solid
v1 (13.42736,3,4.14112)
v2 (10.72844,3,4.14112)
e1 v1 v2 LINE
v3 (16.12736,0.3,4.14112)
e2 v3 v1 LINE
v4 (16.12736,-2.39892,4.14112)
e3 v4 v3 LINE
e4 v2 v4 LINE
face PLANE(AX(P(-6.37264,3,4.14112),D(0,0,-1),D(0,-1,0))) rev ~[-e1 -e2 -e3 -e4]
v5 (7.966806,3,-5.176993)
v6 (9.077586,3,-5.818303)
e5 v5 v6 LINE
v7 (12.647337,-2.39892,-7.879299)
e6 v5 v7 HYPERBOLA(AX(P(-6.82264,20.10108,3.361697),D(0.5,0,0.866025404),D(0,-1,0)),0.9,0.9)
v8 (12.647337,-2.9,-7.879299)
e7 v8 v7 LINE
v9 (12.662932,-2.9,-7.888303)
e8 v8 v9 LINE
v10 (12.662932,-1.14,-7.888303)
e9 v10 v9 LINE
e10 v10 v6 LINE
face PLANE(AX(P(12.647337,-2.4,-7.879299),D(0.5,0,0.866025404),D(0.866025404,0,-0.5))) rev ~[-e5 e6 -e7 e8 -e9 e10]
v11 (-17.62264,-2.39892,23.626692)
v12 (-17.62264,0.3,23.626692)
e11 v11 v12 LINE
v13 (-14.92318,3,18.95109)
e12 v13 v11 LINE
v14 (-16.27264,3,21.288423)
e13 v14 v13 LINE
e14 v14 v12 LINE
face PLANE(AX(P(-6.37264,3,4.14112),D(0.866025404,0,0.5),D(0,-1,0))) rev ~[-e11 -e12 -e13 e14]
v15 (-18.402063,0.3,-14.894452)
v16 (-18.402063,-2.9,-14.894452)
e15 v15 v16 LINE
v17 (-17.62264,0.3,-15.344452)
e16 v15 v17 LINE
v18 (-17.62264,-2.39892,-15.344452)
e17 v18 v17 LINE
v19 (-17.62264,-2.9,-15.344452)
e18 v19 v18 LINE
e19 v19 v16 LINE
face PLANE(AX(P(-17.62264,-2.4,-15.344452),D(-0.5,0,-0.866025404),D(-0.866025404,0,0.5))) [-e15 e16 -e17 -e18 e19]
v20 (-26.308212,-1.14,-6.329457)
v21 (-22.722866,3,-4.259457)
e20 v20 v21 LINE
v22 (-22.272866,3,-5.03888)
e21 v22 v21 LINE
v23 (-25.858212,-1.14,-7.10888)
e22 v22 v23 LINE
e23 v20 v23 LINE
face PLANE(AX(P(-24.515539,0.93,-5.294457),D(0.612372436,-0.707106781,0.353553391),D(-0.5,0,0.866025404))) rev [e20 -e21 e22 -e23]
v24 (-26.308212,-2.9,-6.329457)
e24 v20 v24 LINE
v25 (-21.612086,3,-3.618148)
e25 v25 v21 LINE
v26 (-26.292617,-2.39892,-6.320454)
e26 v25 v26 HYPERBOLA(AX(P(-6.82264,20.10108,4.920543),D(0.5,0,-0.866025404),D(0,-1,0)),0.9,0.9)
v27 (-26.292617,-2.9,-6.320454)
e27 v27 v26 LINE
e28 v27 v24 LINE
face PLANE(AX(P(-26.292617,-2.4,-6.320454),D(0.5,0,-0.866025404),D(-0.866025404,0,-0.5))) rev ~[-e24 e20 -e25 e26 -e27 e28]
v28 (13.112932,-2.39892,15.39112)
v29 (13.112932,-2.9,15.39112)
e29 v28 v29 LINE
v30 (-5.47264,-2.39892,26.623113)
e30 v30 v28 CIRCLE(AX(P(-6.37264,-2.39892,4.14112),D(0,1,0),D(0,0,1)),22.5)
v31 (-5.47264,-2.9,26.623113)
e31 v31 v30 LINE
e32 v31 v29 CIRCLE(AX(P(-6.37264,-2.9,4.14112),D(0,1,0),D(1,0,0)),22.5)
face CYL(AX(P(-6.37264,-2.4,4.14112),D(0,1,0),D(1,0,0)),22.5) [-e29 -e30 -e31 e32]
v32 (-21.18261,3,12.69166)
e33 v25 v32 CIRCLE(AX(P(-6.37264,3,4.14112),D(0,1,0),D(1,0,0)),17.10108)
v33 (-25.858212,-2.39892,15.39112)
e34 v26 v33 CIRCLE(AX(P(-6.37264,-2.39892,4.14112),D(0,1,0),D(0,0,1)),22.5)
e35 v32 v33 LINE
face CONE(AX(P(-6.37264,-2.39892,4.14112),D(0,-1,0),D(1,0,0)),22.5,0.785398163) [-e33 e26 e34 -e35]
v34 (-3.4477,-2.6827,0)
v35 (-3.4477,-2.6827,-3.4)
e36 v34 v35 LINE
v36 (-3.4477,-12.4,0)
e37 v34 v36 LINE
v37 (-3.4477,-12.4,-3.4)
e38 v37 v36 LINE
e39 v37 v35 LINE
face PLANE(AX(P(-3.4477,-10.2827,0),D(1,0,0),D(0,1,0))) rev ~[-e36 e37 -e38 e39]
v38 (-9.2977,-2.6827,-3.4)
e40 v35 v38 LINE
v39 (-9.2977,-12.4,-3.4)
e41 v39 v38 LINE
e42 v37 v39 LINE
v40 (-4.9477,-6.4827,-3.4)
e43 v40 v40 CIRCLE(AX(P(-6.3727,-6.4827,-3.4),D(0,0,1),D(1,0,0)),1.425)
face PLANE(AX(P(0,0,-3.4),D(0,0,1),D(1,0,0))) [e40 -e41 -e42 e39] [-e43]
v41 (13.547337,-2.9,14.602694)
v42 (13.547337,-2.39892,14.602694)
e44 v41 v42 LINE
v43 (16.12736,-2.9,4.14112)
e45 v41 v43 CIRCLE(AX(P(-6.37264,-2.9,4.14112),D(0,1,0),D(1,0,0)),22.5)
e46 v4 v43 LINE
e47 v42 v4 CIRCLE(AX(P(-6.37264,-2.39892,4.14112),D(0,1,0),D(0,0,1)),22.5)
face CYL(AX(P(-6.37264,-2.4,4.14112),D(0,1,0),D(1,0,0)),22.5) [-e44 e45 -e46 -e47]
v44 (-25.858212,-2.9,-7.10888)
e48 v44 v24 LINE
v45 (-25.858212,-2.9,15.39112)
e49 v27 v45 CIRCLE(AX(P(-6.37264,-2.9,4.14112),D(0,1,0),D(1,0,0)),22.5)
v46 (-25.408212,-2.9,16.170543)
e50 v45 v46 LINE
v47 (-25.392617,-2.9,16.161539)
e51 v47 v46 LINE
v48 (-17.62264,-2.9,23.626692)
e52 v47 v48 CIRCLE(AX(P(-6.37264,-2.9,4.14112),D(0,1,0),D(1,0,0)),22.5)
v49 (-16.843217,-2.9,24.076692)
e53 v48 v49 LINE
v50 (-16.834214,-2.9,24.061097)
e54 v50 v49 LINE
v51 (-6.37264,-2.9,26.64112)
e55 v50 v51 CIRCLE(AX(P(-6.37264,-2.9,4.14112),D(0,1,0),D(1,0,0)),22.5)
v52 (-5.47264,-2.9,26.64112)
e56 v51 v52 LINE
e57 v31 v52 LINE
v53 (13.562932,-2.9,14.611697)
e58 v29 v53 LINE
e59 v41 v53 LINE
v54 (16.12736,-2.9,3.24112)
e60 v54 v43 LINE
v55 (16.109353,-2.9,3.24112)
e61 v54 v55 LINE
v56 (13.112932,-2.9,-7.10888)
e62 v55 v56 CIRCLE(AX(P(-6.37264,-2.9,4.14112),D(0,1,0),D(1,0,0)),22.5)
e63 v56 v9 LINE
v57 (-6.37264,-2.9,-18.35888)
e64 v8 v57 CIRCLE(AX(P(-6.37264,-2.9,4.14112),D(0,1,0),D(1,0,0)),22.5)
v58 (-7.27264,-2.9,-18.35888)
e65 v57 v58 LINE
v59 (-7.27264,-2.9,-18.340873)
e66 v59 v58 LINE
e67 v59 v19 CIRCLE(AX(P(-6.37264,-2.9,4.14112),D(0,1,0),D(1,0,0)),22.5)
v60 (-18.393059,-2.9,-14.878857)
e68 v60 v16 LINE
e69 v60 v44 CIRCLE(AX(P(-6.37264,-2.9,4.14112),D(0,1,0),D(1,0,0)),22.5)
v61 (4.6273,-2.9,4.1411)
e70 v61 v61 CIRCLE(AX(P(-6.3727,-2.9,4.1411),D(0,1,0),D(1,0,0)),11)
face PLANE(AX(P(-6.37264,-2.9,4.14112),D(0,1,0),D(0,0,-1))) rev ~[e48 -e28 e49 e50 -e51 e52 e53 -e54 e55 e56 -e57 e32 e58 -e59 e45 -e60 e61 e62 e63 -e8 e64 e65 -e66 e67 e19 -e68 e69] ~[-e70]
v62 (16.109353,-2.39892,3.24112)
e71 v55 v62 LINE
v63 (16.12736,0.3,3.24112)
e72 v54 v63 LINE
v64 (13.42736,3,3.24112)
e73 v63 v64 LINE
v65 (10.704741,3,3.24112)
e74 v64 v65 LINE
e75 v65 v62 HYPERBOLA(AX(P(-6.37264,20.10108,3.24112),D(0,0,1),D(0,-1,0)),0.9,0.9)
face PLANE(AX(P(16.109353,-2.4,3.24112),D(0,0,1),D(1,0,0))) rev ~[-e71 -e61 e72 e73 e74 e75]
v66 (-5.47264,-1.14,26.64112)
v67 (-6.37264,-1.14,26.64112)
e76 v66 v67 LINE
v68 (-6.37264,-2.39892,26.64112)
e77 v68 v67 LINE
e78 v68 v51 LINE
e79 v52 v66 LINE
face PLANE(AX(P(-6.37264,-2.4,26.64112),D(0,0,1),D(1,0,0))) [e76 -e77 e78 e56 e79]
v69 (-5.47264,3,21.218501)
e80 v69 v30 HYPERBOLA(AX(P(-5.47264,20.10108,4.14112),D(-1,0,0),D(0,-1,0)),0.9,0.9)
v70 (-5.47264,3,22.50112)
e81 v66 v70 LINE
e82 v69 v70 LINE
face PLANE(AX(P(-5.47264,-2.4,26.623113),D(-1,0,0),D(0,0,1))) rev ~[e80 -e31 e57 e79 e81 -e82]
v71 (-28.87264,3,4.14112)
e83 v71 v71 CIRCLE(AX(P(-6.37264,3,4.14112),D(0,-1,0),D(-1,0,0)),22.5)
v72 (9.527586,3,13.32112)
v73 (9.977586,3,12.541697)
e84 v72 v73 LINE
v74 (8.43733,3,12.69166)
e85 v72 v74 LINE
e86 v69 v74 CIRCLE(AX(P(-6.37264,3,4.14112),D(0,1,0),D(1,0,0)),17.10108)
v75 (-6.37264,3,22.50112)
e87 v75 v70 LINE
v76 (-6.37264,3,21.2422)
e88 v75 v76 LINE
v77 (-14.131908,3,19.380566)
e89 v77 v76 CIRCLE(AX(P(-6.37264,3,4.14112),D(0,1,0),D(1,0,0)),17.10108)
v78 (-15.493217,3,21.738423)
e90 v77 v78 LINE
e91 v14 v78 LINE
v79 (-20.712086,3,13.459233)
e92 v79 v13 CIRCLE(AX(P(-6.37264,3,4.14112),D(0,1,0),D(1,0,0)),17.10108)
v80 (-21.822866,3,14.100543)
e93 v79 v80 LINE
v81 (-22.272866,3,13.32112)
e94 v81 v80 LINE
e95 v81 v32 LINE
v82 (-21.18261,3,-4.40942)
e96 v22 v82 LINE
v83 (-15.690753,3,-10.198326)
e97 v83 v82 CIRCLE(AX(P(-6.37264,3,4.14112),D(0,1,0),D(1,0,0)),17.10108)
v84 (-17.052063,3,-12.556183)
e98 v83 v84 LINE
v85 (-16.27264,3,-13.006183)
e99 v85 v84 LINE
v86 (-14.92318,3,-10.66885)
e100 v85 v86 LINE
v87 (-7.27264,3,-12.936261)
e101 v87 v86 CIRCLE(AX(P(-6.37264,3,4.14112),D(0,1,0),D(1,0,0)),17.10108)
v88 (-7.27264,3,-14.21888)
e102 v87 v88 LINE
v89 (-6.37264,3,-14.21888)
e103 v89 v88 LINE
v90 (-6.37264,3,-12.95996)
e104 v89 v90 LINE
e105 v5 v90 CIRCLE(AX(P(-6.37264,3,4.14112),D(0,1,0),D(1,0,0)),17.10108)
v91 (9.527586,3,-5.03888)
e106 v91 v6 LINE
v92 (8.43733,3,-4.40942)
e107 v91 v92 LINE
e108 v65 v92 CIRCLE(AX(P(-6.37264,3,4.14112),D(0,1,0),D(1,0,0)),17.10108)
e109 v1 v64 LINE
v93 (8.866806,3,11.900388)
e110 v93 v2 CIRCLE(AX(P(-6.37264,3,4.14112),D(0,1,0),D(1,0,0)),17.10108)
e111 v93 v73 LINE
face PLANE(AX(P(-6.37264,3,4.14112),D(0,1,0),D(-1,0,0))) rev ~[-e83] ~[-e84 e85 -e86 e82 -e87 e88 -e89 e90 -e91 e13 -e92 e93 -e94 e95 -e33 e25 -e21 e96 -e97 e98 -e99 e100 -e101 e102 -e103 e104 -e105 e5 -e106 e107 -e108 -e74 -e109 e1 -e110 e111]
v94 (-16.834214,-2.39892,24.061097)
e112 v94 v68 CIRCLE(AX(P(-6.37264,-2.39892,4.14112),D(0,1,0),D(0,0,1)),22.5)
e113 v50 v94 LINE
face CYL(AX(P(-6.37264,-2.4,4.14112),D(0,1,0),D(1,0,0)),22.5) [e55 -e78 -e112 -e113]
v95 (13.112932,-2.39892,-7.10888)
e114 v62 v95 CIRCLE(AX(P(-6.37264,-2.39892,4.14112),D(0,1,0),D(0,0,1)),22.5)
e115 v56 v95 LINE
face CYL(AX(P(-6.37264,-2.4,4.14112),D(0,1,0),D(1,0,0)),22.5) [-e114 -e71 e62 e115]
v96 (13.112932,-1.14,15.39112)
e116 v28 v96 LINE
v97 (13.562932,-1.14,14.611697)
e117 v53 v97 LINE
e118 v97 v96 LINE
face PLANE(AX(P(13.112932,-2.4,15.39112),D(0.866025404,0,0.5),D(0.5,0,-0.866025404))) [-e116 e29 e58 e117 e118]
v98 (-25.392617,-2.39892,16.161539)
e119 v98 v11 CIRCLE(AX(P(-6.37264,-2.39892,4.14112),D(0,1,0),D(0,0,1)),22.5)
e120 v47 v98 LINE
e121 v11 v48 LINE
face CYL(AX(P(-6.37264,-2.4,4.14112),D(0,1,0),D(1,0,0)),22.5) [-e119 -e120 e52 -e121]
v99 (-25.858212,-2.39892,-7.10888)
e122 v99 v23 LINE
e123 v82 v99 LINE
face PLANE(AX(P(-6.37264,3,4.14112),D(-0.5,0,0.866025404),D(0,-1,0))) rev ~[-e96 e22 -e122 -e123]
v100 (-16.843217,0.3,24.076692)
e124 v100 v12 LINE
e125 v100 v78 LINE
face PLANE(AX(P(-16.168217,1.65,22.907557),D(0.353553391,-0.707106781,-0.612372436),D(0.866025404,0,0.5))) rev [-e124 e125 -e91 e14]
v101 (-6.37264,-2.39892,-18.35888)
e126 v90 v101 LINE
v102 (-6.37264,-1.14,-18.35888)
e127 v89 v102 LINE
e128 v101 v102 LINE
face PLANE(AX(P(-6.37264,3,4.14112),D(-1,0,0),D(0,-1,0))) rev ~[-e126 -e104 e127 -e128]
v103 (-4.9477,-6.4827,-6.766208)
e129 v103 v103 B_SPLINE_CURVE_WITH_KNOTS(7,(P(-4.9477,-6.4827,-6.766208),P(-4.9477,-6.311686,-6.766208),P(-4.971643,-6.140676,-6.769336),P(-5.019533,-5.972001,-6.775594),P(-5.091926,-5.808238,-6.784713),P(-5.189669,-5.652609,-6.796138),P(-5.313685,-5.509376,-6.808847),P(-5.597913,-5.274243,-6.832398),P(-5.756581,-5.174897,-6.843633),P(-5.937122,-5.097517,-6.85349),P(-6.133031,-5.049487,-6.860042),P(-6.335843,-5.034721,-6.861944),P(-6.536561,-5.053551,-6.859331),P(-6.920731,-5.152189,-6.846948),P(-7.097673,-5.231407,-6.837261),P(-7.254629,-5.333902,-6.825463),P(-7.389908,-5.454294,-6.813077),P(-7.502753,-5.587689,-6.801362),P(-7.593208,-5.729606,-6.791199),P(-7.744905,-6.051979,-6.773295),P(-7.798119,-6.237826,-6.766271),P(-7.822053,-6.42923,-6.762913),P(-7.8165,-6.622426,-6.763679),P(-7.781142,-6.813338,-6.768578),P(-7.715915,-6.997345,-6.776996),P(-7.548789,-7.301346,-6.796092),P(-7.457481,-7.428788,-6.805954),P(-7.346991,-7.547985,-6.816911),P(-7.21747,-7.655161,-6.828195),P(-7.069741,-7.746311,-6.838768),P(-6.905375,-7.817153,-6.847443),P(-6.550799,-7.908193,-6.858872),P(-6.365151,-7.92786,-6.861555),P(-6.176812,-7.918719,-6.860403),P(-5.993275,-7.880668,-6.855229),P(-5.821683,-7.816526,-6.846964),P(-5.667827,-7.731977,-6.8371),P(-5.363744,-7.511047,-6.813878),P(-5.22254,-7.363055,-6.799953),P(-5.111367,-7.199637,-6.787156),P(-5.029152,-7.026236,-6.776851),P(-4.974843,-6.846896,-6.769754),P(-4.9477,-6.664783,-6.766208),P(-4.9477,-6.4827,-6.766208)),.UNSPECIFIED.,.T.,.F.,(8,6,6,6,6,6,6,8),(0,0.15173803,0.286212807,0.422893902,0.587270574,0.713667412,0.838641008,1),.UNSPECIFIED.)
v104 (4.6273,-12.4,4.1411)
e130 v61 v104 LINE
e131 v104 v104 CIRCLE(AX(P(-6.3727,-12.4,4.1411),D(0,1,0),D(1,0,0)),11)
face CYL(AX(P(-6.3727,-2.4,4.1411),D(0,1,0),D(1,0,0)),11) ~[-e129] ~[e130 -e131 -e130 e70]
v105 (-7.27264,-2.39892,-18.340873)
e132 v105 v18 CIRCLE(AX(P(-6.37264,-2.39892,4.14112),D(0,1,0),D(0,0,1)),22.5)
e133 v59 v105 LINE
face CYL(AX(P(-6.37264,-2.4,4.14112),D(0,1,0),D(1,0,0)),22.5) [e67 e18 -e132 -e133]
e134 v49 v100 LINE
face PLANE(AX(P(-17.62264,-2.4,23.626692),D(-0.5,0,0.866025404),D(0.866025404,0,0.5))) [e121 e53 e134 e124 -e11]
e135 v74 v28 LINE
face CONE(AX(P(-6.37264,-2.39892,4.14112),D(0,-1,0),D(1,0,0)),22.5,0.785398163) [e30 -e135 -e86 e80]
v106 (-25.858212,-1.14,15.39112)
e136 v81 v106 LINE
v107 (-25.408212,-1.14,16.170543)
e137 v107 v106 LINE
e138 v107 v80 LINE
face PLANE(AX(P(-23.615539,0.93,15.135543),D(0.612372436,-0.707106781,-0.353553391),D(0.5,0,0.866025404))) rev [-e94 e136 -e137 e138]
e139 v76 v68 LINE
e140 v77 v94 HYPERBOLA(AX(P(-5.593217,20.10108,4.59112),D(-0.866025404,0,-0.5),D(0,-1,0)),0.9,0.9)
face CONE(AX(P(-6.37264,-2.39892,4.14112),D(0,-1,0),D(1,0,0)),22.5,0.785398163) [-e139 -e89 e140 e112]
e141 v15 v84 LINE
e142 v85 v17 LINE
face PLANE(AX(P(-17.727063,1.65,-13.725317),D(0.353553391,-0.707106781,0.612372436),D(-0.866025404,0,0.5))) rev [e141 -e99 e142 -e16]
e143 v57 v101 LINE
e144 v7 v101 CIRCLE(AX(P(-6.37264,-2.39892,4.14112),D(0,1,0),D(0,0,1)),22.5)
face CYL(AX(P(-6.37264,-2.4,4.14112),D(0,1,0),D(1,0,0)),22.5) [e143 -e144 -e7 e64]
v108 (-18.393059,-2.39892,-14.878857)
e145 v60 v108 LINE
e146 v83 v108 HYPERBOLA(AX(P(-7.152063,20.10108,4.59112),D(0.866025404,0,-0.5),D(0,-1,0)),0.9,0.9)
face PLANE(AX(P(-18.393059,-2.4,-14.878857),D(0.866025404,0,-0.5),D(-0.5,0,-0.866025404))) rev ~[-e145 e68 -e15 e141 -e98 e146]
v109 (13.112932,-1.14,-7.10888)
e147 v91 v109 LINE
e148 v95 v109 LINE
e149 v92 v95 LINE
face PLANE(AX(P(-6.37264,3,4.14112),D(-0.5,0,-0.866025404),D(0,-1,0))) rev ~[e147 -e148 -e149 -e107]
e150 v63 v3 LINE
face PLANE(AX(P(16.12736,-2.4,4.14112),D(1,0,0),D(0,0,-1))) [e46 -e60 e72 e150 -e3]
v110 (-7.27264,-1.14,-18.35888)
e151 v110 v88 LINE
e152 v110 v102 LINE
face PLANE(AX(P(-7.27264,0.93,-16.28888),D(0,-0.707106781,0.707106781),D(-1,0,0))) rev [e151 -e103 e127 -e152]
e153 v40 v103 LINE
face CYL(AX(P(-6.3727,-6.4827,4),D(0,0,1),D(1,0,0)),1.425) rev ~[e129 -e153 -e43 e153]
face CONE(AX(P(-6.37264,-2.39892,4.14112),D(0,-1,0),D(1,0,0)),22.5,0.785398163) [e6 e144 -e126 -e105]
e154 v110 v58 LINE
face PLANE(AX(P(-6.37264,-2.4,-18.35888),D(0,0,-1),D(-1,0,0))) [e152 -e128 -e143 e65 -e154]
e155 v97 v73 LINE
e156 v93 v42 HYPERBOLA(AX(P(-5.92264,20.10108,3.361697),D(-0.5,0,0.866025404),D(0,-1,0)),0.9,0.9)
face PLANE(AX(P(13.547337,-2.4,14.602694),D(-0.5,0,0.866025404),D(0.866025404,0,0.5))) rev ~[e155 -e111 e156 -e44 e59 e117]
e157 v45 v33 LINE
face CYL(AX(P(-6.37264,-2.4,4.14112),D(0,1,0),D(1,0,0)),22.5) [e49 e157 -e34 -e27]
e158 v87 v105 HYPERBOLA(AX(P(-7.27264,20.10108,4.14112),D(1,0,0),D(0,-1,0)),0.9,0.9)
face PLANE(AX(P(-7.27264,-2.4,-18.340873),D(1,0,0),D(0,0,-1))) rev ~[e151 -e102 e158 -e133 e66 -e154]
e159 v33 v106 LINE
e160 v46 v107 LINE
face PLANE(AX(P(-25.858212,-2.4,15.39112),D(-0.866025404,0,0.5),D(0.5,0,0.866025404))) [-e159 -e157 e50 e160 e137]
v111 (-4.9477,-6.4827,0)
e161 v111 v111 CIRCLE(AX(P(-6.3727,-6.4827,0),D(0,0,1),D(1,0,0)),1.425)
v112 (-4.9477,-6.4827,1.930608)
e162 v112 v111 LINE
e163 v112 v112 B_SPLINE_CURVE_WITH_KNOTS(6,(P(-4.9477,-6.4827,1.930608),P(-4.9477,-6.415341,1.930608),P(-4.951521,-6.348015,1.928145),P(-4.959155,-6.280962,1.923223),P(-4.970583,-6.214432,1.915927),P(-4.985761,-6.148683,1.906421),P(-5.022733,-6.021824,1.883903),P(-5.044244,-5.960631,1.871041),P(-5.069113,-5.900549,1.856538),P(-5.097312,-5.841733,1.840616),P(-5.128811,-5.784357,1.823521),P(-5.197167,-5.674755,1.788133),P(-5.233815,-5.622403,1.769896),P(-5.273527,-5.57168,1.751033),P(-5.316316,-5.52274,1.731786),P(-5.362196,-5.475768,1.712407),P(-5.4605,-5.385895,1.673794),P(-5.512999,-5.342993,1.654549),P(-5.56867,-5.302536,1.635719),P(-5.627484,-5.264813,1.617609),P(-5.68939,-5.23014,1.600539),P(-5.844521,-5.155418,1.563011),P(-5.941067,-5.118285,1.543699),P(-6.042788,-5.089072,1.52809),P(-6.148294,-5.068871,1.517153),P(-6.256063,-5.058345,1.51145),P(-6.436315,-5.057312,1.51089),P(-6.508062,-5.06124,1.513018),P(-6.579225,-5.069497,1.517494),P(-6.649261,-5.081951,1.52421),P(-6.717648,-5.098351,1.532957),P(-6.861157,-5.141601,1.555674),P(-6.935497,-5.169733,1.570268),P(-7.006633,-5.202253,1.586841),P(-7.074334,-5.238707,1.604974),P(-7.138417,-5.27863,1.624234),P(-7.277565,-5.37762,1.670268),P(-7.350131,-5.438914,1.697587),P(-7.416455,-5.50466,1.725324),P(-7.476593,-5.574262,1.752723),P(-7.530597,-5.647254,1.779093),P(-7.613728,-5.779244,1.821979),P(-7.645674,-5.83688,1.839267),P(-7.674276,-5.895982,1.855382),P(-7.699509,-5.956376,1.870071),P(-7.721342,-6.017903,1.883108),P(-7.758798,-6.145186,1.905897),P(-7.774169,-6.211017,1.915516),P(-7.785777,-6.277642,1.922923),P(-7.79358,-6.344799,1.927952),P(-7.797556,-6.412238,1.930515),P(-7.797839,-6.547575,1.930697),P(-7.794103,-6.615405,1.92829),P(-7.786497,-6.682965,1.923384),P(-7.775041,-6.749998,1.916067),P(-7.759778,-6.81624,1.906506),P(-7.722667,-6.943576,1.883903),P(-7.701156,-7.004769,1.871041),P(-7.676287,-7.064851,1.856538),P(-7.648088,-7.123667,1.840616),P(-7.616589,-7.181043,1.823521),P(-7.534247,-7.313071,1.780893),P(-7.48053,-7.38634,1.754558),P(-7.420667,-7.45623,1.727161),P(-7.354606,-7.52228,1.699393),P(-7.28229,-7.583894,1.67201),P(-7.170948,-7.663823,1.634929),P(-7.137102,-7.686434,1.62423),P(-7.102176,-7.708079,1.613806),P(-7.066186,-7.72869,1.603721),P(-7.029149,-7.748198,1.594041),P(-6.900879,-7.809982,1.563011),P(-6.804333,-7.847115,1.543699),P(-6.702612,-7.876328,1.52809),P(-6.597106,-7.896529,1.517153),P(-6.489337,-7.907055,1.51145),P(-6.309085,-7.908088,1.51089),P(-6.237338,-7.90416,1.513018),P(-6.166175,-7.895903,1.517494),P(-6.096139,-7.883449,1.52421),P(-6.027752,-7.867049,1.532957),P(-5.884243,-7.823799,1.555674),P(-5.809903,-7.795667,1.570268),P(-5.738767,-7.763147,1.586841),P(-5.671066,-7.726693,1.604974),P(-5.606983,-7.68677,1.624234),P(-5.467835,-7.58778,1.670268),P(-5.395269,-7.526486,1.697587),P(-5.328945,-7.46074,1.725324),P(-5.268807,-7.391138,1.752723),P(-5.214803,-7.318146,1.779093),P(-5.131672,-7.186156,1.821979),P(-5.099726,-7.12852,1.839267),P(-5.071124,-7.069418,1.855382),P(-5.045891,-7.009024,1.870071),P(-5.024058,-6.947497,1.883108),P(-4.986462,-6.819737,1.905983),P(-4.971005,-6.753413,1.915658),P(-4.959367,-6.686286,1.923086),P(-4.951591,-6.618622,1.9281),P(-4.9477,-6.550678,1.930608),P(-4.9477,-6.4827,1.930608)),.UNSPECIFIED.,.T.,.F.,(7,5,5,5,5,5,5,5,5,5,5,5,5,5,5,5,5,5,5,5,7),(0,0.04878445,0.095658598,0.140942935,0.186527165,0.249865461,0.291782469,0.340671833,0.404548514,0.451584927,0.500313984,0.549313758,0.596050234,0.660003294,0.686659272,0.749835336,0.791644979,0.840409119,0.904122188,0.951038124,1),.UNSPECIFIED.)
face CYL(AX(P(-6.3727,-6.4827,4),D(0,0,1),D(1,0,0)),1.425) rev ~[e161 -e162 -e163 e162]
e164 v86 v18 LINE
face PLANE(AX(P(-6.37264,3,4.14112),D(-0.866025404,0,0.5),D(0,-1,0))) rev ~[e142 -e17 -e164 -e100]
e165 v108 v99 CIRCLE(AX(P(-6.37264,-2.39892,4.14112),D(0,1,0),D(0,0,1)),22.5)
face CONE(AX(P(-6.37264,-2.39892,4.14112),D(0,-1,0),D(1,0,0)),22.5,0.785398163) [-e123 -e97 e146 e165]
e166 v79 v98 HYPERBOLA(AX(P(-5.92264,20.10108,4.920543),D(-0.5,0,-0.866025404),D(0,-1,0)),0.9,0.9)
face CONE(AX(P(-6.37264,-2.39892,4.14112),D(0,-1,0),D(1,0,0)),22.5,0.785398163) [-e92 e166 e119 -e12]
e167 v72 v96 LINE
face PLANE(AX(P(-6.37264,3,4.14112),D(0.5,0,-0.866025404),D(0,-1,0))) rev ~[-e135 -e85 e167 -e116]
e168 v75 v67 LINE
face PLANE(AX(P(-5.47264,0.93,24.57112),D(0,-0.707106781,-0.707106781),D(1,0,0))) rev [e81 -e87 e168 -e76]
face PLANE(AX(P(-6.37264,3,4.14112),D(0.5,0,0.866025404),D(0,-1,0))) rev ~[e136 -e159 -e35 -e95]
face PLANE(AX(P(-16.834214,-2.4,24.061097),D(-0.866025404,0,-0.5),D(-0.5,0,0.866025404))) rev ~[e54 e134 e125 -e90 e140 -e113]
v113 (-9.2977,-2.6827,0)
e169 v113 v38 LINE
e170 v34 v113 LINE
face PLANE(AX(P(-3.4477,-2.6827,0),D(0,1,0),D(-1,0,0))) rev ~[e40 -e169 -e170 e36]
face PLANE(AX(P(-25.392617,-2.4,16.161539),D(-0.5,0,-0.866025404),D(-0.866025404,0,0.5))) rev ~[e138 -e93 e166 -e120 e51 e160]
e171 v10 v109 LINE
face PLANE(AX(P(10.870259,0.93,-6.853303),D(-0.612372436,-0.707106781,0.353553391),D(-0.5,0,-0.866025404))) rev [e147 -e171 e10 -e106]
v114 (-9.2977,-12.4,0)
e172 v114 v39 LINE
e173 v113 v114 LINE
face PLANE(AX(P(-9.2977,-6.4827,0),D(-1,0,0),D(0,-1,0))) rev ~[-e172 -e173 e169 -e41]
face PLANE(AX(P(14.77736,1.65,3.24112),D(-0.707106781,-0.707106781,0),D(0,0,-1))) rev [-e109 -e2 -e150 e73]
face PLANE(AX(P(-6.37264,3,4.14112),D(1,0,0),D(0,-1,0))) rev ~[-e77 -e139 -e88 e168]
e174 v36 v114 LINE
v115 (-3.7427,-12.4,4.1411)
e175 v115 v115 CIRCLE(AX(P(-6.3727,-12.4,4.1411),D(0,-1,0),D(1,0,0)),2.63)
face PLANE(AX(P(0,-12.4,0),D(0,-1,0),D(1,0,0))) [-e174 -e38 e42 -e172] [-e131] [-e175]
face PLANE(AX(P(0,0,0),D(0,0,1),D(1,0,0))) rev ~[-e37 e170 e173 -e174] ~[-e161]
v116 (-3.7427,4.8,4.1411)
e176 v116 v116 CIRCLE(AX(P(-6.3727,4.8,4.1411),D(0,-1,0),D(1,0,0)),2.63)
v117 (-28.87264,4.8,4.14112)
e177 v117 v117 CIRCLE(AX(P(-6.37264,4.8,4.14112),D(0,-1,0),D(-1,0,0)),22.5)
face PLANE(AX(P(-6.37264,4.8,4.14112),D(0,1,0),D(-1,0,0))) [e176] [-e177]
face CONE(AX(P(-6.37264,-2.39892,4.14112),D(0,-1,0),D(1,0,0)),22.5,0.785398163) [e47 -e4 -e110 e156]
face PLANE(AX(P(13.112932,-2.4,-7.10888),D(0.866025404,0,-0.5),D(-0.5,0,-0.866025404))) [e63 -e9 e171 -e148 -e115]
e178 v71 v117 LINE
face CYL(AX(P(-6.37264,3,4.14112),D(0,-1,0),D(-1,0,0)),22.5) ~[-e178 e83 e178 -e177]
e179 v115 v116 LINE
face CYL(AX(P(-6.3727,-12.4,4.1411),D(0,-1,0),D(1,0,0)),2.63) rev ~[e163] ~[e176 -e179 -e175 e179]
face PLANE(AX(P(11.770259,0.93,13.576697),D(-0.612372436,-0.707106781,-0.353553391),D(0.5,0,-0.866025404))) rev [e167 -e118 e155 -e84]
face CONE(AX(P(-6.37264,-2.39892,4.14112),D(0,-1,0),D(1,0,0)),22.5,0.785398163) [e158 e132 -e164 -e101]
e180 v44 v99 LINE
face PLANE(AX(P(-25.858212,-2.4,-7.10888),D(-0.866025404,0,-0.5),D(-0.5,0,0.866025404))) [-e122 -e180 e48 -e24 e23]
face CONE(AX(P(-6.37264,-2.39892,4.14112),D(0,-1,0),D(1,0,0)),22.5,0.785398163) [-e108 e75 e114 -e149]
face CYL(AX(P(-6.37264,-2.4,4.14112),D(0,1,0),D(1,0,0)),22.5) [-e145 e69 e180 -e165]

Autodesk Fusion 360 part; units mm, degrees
sketch "Sketch1" plane through (0, 0, 0) normal (0, 1, 0) x (1, 0, 0)
  circle A0 centre (0, 0) radius 12.5
  dimension "d1" = 25
extrude "Extrude1" add sketch "Sketch1" along normal blind 3 makes body 1
chamfer "Chamfer1" distance 3 angle 45 1 edges at (-11.6541, 3, 4.5202) on bodies 1
sketch "Sketch2" plane through (0, 3, 0) normal (0, 1, 0) x (-1, 0, 0)
  circle A0 centre (0, 0) radius 9.5
  circle A1 centre (0, 0) radius 12.5
  dimension "d5" = 25
extrude "Extrude2" add sketch "Sketch2" along normal blind 1 contours A0 | A1 bodies 1
sketch "Sketch3" plane through (0, 0, 0) normal (0, 0, 1) x (1, 0, 0)
  line L0 (0, 0) -> (0.5, 0)
  line L1 (0.5, 0) -> (0.5, 3)
  line L2 (0.5, 3) -> (0, 3)
  line L3 (0, 3) -> (0, 0)
  line L4 (12.5, 3) -> (-12.5, 3)
extrude "Extrude3" add sketch "Sketch3" along normal blind 12.5 separate body makes body 2
chamfer "Chamfer2" distance 2.3 angle 45 1 edges at (0.25, 3, 12.5) on bodies 2
pattern_circular "C-Pattern1" count 6 over 360 about axis through (0, 0, 0) along (0, 1, 0) of bodies 2 makes body 3 at (6.5529, 1, 3.7833) makes body 4 at (6.3029, 1, -4.2163) makes body 5 at (0, 1, -7.5667) makes body 6 at (-6.5529, 1, -3.7833) makes body 7 at (-6.5529, 1, 3.7833)
sketch "Sketch4" plane through (0, 0, 0) normal (0, 0, 1) x (1, 0, 0)
sketch "Sketch5" plane through (0, 0, 0) normal (1, 0, 0) x (0, 0, -1)
  line L0 (0, 0) -> (0.5, 0)
  line L1 (0.5, 0) -> (0.5, 3)
  line L2 (0.5, 3) -> (0, 3)
  line L3 (0, 3) -> (0, 0)
  line L4 (-0.433, 3) -> (4.667, 3)
extrude "Extrude4" add sketch "Sketch5" along normal blind 12.5 separate body makes body 8
chamfer "Chamfer3" distance 1.5 angle 45 1 edges at (12.5, 3, -0.25) on bodies 8
pattern_circular "C-Pattern2" count 3 over 360 about axis through (0, 0, 0) along (0, 1, 0) of bodies 8 makes body 9 at (-4.3497, 1, -6.5339) makes body 10 at (-3.9167, 1, 6.7839)
combine "Combine1" operation add target body 1 tool bodies 7 10 2 6 9 5 4 8 3
sketch "Sketch6" plane through (0, 0, 0) normal (0, -1, 0) x (1, 0, 0)
  arc A0 (10.8253, 6.25) -> (0.5, 12.49) centre (0, 0) ccw
  line L0 (0.5, 12.49) -> (0.5, 12.5)
  line L1 (0.5, 12.5) -> (0, 12.5)
  arc A1 (0, 12.5) -> (-5.812, 11.0667) centre (0, 0) ccw
  line L2 (-5.812, 11.0667) -> (-5.817, 11.0753)
  line L3 (-5.817, 11.0753) -> (-6.25, 10.8253)
  arc A2 (-6.25, 10.8253) -> (-10.5667, 6.678) centre (0, 0) ccw
  line L4 (-10.5667, 6.678) -> (-10.5753, 6.683)
  line L5 (-10.5753, 6.683) -> (-10.8253, 6.25)
  arc A3 (-10.8253, 6.25) -> (-11.0667, -5.812) centre (0, 0) ccw
  line L6 (-11.0667, -5.812) -> (-11.0753, -5.817)
  line L7 (-11.0753, -5.817) -> (-10.8253, -6.25)
  arc A4 (-10.8253, -6.25) -> (-6.678, -10.5667) centre (0, 0) ccw
  line L8 (-6.678, -10.5667) -> (-6.683, -10.5753)
  line L9 (-6.683, -10.5753) -> (-6.25, -10.8253)
  arc A5 (-6.25, -10.8253) -> (-0.5, -12.49) centre (0, 0) ccw
  line L10 (-0.5, -12.49) -> (-0.5, -12.5)
  line L11 (-0.5, -12.5) -> (0, -12.5)
  arc A6 (0, -12.5) -> (10.5667, -6.678) centre (0, 0) ccw
  line L12 (10.5667, -6.678) -> (10.5753, -6.683)
  line L13 (10.5753, -6.683) -> (10.8253, -6.25)
  arc A7 (10.8253, -6.25) -> (12.49, -0.5) centre (0, 0) ccw
  line L14 (12.49, -0.5) -> (12.5, -0.5)
  line L15 (12.5, -0.5) -> (12.5, 0)
  arc A8 (12.5, 0) -> (11.0667, 5.812) centre (0, 0) ccw
  line L16 (11.0667, 5.812) -> (11.0753, 5.817)
  line L17 (11.0753, 5.817) -> (10.8253, 6.25)
scale "Scale1" factor 1.8 about (7.9658, 3, -5.1764) bodies 1
sketch "Sketch7" plane through (0, -2.4, 0) normal (0, -1, 0) x (1, 0, 0)
  arc A0 (13.1129, 15.3911) -> (-5.4727, 26.6231) centre (-6.3727, 4.1411) ccw
  line L0 (-5.4727, 26.6231) -> (-5.4727, 26.6411)
  line L1 (-5.4727, 26.6411) -> (-6.3727, 26.6411)
  arc A1 (-6.3727, 26.6411) -> (-16.8342, 24.0611) centre (-6.3727, 4.1411) ccw
  line L2 (-16.8342, 24.0611) -> (-16.8432, 24.0767)
  line L3 (-16.8432, 24.0767) -> (-17.6227, 23.6267)
  arc A2 (-17.6227, 23.6267) -> (-25.3926, 16.1616) centre (-6.3727, 4.1411) ccw
  line L4 (-25.3926, 16.1616) -> (-25.4082, 16.1706)
  line L5 (-25.4082, 16.1706) -> (-25.8582, 15.3911)
  arc A3 (-25.8582, 15.3911) -> (-26.2926, -6.3204) centre (-6.3727, 4.1411) ccw
  line L6 (-26.2926, -6.3204) -> (-26.3082, -6.3294)
  line L7 (-26.3082, -6.3294) -> (-25.8582, -7.1089)
  arc A4 (-25.8582, -7.1089) -> (-18.3931, -14.8788) centre (-6.3727, 4.1411) ccw
  line L8 (-18.3931, -14.8788) -> (-18.4021, -14.8944)
  line L9 (-18.4021, -14.8944) -> (-17.6227, -15.3444)
  arc A5 (-17.6227, -15.3444) -> (-7.2727, -18.3408) centre (-6.3727, 4.1411) ccw
  line L10 (-7.2727, -18.3408) -> (-7.2727, -18.3589)
  line L11 (-7.2727, -18.3589) -> (-6.3727, -18.3589)
  arc A6 (-6.3727, -18.3589) -> (12.6473, -7.8793) centre (-6.3727, 4.1411) ccw
  line L12 (12.6473, -7.8793) -> (12.6629, -7.8883)
  line L13 (12.6629, -7.8883) -> (13.1129, -7.1089)
  arc A7 (13.1129, -7.1089) -> (16.1093, 3.2411) centre (-6.3727, 4.1411) ccw
  line L14 (16.1093, 3.2411) -> (16.1273, 3.2411)
  line L15 (16.1273, 3.2411) -> (16.1273, 4.1411)
  arc A8 (16.1273, 4.1411) -> (13.5473, 14.6027) centre (-6.3727, 4.1411) ccw
  line L16 (13.5473, 14.6027) -> (13.5629, 14.6117)
  line L17 (13.5629, 14.6117) -> (13.1129, 15.3911)
  circle A9 centre (-6.3727, 4.1411) radius 7.5
  dimension "d19" = 15
extrude "Extrude5" add sketch "Sketch7" along normal blind 10 contours A9 bodies 1
sketch "Sketch8" plane through (0, -12.4, 0) normal (0, -1, 0) x (1, 0, 0)
  circle A0 centre (-6.3727, 4.1411) radius 7.5
  circle A1 centre (-6.3727, 4.1411) radius 2.5
  dimension "d22" = 5
extrude "Extrude6" cut sketch "Sketch8" against normal blind 100 contours A1 bodies 1
sketch "Sketch9" plane through (0, 0, 0) normal (0, 0, 1) x (1, 0, 0)
  circle A0 centre (-6.3727, -6.4827) radius 1.375
  dimension "d25" = 2.75
extrude "Extrude7" add sketch "Sketch9" against normal blind 10 separate body makes body 11
move_body "Move1" bodies 11 to x (1, 0, 0) y (0, 1, 0) z (0, 0, 1) at (0, 0, 4)
combine "Combine2" operation cut target body 1 tool bodies 11
extrude "Extrude8" add 1 faces at (-5.1104, -2.4, -13.2744) along direction (0, -1, 0) blind 0.5 on bodies 1 bodies 1
move_face "OffsetFaces1" offset 3.5 1 faces at (-8.6648, -7.2979, -3) on bodies 1
move_face "OffsetFaces2" offset -0.13 1 faces at (-3.8851, -6.6667, 3.8922) on bodies 1
move_face "OffsetFaces3" offset -0.05 1 faces at (-5.2578, -5.6779, -3.9485) on bodies 1
sketch "Sketch10" plane through (0, 0, 0) normal (0, 0, 1) x (1, 0, 0)
  line L0 (-6.3727, -2.9) -> (12.6473, -2.9)
  line L1 (-3.4477, -6.4827) -> (-3.4477, -2.6827)
  line L2 (-9.2977, -6.4827) -> (-9.2977, -10.2827)
  line L3 (-9.2977, -10.2827) -> (-3.4477, -10.2827)
  line L4 (-3.4477, -10.2827) -> (-3.4477, -2.6827)
  line L5 (-3.4477, -2.6827) -> (-9.2977, -2.6827)
  line L6 (-9.2977, -2.6827) -> (-9.2977, -10.2827)
  dimension "d33" = 1.5
  dimension "d34" = 1.5
  dimension "d36" = 3.8
extrude "Extrude9" add sketch "Sketch10" against normal blind 3.4 separate body makes body 12
extrude "Extrude10" add 1 faces at (-7.3477, -10.2827, -1.1333) along direction (0, -1, 0) blind 5 on bodies 12 bodies 12
combine "Combine3" operation cut target body 1 tool bodies 12 keep tools
hidden bodies 12
